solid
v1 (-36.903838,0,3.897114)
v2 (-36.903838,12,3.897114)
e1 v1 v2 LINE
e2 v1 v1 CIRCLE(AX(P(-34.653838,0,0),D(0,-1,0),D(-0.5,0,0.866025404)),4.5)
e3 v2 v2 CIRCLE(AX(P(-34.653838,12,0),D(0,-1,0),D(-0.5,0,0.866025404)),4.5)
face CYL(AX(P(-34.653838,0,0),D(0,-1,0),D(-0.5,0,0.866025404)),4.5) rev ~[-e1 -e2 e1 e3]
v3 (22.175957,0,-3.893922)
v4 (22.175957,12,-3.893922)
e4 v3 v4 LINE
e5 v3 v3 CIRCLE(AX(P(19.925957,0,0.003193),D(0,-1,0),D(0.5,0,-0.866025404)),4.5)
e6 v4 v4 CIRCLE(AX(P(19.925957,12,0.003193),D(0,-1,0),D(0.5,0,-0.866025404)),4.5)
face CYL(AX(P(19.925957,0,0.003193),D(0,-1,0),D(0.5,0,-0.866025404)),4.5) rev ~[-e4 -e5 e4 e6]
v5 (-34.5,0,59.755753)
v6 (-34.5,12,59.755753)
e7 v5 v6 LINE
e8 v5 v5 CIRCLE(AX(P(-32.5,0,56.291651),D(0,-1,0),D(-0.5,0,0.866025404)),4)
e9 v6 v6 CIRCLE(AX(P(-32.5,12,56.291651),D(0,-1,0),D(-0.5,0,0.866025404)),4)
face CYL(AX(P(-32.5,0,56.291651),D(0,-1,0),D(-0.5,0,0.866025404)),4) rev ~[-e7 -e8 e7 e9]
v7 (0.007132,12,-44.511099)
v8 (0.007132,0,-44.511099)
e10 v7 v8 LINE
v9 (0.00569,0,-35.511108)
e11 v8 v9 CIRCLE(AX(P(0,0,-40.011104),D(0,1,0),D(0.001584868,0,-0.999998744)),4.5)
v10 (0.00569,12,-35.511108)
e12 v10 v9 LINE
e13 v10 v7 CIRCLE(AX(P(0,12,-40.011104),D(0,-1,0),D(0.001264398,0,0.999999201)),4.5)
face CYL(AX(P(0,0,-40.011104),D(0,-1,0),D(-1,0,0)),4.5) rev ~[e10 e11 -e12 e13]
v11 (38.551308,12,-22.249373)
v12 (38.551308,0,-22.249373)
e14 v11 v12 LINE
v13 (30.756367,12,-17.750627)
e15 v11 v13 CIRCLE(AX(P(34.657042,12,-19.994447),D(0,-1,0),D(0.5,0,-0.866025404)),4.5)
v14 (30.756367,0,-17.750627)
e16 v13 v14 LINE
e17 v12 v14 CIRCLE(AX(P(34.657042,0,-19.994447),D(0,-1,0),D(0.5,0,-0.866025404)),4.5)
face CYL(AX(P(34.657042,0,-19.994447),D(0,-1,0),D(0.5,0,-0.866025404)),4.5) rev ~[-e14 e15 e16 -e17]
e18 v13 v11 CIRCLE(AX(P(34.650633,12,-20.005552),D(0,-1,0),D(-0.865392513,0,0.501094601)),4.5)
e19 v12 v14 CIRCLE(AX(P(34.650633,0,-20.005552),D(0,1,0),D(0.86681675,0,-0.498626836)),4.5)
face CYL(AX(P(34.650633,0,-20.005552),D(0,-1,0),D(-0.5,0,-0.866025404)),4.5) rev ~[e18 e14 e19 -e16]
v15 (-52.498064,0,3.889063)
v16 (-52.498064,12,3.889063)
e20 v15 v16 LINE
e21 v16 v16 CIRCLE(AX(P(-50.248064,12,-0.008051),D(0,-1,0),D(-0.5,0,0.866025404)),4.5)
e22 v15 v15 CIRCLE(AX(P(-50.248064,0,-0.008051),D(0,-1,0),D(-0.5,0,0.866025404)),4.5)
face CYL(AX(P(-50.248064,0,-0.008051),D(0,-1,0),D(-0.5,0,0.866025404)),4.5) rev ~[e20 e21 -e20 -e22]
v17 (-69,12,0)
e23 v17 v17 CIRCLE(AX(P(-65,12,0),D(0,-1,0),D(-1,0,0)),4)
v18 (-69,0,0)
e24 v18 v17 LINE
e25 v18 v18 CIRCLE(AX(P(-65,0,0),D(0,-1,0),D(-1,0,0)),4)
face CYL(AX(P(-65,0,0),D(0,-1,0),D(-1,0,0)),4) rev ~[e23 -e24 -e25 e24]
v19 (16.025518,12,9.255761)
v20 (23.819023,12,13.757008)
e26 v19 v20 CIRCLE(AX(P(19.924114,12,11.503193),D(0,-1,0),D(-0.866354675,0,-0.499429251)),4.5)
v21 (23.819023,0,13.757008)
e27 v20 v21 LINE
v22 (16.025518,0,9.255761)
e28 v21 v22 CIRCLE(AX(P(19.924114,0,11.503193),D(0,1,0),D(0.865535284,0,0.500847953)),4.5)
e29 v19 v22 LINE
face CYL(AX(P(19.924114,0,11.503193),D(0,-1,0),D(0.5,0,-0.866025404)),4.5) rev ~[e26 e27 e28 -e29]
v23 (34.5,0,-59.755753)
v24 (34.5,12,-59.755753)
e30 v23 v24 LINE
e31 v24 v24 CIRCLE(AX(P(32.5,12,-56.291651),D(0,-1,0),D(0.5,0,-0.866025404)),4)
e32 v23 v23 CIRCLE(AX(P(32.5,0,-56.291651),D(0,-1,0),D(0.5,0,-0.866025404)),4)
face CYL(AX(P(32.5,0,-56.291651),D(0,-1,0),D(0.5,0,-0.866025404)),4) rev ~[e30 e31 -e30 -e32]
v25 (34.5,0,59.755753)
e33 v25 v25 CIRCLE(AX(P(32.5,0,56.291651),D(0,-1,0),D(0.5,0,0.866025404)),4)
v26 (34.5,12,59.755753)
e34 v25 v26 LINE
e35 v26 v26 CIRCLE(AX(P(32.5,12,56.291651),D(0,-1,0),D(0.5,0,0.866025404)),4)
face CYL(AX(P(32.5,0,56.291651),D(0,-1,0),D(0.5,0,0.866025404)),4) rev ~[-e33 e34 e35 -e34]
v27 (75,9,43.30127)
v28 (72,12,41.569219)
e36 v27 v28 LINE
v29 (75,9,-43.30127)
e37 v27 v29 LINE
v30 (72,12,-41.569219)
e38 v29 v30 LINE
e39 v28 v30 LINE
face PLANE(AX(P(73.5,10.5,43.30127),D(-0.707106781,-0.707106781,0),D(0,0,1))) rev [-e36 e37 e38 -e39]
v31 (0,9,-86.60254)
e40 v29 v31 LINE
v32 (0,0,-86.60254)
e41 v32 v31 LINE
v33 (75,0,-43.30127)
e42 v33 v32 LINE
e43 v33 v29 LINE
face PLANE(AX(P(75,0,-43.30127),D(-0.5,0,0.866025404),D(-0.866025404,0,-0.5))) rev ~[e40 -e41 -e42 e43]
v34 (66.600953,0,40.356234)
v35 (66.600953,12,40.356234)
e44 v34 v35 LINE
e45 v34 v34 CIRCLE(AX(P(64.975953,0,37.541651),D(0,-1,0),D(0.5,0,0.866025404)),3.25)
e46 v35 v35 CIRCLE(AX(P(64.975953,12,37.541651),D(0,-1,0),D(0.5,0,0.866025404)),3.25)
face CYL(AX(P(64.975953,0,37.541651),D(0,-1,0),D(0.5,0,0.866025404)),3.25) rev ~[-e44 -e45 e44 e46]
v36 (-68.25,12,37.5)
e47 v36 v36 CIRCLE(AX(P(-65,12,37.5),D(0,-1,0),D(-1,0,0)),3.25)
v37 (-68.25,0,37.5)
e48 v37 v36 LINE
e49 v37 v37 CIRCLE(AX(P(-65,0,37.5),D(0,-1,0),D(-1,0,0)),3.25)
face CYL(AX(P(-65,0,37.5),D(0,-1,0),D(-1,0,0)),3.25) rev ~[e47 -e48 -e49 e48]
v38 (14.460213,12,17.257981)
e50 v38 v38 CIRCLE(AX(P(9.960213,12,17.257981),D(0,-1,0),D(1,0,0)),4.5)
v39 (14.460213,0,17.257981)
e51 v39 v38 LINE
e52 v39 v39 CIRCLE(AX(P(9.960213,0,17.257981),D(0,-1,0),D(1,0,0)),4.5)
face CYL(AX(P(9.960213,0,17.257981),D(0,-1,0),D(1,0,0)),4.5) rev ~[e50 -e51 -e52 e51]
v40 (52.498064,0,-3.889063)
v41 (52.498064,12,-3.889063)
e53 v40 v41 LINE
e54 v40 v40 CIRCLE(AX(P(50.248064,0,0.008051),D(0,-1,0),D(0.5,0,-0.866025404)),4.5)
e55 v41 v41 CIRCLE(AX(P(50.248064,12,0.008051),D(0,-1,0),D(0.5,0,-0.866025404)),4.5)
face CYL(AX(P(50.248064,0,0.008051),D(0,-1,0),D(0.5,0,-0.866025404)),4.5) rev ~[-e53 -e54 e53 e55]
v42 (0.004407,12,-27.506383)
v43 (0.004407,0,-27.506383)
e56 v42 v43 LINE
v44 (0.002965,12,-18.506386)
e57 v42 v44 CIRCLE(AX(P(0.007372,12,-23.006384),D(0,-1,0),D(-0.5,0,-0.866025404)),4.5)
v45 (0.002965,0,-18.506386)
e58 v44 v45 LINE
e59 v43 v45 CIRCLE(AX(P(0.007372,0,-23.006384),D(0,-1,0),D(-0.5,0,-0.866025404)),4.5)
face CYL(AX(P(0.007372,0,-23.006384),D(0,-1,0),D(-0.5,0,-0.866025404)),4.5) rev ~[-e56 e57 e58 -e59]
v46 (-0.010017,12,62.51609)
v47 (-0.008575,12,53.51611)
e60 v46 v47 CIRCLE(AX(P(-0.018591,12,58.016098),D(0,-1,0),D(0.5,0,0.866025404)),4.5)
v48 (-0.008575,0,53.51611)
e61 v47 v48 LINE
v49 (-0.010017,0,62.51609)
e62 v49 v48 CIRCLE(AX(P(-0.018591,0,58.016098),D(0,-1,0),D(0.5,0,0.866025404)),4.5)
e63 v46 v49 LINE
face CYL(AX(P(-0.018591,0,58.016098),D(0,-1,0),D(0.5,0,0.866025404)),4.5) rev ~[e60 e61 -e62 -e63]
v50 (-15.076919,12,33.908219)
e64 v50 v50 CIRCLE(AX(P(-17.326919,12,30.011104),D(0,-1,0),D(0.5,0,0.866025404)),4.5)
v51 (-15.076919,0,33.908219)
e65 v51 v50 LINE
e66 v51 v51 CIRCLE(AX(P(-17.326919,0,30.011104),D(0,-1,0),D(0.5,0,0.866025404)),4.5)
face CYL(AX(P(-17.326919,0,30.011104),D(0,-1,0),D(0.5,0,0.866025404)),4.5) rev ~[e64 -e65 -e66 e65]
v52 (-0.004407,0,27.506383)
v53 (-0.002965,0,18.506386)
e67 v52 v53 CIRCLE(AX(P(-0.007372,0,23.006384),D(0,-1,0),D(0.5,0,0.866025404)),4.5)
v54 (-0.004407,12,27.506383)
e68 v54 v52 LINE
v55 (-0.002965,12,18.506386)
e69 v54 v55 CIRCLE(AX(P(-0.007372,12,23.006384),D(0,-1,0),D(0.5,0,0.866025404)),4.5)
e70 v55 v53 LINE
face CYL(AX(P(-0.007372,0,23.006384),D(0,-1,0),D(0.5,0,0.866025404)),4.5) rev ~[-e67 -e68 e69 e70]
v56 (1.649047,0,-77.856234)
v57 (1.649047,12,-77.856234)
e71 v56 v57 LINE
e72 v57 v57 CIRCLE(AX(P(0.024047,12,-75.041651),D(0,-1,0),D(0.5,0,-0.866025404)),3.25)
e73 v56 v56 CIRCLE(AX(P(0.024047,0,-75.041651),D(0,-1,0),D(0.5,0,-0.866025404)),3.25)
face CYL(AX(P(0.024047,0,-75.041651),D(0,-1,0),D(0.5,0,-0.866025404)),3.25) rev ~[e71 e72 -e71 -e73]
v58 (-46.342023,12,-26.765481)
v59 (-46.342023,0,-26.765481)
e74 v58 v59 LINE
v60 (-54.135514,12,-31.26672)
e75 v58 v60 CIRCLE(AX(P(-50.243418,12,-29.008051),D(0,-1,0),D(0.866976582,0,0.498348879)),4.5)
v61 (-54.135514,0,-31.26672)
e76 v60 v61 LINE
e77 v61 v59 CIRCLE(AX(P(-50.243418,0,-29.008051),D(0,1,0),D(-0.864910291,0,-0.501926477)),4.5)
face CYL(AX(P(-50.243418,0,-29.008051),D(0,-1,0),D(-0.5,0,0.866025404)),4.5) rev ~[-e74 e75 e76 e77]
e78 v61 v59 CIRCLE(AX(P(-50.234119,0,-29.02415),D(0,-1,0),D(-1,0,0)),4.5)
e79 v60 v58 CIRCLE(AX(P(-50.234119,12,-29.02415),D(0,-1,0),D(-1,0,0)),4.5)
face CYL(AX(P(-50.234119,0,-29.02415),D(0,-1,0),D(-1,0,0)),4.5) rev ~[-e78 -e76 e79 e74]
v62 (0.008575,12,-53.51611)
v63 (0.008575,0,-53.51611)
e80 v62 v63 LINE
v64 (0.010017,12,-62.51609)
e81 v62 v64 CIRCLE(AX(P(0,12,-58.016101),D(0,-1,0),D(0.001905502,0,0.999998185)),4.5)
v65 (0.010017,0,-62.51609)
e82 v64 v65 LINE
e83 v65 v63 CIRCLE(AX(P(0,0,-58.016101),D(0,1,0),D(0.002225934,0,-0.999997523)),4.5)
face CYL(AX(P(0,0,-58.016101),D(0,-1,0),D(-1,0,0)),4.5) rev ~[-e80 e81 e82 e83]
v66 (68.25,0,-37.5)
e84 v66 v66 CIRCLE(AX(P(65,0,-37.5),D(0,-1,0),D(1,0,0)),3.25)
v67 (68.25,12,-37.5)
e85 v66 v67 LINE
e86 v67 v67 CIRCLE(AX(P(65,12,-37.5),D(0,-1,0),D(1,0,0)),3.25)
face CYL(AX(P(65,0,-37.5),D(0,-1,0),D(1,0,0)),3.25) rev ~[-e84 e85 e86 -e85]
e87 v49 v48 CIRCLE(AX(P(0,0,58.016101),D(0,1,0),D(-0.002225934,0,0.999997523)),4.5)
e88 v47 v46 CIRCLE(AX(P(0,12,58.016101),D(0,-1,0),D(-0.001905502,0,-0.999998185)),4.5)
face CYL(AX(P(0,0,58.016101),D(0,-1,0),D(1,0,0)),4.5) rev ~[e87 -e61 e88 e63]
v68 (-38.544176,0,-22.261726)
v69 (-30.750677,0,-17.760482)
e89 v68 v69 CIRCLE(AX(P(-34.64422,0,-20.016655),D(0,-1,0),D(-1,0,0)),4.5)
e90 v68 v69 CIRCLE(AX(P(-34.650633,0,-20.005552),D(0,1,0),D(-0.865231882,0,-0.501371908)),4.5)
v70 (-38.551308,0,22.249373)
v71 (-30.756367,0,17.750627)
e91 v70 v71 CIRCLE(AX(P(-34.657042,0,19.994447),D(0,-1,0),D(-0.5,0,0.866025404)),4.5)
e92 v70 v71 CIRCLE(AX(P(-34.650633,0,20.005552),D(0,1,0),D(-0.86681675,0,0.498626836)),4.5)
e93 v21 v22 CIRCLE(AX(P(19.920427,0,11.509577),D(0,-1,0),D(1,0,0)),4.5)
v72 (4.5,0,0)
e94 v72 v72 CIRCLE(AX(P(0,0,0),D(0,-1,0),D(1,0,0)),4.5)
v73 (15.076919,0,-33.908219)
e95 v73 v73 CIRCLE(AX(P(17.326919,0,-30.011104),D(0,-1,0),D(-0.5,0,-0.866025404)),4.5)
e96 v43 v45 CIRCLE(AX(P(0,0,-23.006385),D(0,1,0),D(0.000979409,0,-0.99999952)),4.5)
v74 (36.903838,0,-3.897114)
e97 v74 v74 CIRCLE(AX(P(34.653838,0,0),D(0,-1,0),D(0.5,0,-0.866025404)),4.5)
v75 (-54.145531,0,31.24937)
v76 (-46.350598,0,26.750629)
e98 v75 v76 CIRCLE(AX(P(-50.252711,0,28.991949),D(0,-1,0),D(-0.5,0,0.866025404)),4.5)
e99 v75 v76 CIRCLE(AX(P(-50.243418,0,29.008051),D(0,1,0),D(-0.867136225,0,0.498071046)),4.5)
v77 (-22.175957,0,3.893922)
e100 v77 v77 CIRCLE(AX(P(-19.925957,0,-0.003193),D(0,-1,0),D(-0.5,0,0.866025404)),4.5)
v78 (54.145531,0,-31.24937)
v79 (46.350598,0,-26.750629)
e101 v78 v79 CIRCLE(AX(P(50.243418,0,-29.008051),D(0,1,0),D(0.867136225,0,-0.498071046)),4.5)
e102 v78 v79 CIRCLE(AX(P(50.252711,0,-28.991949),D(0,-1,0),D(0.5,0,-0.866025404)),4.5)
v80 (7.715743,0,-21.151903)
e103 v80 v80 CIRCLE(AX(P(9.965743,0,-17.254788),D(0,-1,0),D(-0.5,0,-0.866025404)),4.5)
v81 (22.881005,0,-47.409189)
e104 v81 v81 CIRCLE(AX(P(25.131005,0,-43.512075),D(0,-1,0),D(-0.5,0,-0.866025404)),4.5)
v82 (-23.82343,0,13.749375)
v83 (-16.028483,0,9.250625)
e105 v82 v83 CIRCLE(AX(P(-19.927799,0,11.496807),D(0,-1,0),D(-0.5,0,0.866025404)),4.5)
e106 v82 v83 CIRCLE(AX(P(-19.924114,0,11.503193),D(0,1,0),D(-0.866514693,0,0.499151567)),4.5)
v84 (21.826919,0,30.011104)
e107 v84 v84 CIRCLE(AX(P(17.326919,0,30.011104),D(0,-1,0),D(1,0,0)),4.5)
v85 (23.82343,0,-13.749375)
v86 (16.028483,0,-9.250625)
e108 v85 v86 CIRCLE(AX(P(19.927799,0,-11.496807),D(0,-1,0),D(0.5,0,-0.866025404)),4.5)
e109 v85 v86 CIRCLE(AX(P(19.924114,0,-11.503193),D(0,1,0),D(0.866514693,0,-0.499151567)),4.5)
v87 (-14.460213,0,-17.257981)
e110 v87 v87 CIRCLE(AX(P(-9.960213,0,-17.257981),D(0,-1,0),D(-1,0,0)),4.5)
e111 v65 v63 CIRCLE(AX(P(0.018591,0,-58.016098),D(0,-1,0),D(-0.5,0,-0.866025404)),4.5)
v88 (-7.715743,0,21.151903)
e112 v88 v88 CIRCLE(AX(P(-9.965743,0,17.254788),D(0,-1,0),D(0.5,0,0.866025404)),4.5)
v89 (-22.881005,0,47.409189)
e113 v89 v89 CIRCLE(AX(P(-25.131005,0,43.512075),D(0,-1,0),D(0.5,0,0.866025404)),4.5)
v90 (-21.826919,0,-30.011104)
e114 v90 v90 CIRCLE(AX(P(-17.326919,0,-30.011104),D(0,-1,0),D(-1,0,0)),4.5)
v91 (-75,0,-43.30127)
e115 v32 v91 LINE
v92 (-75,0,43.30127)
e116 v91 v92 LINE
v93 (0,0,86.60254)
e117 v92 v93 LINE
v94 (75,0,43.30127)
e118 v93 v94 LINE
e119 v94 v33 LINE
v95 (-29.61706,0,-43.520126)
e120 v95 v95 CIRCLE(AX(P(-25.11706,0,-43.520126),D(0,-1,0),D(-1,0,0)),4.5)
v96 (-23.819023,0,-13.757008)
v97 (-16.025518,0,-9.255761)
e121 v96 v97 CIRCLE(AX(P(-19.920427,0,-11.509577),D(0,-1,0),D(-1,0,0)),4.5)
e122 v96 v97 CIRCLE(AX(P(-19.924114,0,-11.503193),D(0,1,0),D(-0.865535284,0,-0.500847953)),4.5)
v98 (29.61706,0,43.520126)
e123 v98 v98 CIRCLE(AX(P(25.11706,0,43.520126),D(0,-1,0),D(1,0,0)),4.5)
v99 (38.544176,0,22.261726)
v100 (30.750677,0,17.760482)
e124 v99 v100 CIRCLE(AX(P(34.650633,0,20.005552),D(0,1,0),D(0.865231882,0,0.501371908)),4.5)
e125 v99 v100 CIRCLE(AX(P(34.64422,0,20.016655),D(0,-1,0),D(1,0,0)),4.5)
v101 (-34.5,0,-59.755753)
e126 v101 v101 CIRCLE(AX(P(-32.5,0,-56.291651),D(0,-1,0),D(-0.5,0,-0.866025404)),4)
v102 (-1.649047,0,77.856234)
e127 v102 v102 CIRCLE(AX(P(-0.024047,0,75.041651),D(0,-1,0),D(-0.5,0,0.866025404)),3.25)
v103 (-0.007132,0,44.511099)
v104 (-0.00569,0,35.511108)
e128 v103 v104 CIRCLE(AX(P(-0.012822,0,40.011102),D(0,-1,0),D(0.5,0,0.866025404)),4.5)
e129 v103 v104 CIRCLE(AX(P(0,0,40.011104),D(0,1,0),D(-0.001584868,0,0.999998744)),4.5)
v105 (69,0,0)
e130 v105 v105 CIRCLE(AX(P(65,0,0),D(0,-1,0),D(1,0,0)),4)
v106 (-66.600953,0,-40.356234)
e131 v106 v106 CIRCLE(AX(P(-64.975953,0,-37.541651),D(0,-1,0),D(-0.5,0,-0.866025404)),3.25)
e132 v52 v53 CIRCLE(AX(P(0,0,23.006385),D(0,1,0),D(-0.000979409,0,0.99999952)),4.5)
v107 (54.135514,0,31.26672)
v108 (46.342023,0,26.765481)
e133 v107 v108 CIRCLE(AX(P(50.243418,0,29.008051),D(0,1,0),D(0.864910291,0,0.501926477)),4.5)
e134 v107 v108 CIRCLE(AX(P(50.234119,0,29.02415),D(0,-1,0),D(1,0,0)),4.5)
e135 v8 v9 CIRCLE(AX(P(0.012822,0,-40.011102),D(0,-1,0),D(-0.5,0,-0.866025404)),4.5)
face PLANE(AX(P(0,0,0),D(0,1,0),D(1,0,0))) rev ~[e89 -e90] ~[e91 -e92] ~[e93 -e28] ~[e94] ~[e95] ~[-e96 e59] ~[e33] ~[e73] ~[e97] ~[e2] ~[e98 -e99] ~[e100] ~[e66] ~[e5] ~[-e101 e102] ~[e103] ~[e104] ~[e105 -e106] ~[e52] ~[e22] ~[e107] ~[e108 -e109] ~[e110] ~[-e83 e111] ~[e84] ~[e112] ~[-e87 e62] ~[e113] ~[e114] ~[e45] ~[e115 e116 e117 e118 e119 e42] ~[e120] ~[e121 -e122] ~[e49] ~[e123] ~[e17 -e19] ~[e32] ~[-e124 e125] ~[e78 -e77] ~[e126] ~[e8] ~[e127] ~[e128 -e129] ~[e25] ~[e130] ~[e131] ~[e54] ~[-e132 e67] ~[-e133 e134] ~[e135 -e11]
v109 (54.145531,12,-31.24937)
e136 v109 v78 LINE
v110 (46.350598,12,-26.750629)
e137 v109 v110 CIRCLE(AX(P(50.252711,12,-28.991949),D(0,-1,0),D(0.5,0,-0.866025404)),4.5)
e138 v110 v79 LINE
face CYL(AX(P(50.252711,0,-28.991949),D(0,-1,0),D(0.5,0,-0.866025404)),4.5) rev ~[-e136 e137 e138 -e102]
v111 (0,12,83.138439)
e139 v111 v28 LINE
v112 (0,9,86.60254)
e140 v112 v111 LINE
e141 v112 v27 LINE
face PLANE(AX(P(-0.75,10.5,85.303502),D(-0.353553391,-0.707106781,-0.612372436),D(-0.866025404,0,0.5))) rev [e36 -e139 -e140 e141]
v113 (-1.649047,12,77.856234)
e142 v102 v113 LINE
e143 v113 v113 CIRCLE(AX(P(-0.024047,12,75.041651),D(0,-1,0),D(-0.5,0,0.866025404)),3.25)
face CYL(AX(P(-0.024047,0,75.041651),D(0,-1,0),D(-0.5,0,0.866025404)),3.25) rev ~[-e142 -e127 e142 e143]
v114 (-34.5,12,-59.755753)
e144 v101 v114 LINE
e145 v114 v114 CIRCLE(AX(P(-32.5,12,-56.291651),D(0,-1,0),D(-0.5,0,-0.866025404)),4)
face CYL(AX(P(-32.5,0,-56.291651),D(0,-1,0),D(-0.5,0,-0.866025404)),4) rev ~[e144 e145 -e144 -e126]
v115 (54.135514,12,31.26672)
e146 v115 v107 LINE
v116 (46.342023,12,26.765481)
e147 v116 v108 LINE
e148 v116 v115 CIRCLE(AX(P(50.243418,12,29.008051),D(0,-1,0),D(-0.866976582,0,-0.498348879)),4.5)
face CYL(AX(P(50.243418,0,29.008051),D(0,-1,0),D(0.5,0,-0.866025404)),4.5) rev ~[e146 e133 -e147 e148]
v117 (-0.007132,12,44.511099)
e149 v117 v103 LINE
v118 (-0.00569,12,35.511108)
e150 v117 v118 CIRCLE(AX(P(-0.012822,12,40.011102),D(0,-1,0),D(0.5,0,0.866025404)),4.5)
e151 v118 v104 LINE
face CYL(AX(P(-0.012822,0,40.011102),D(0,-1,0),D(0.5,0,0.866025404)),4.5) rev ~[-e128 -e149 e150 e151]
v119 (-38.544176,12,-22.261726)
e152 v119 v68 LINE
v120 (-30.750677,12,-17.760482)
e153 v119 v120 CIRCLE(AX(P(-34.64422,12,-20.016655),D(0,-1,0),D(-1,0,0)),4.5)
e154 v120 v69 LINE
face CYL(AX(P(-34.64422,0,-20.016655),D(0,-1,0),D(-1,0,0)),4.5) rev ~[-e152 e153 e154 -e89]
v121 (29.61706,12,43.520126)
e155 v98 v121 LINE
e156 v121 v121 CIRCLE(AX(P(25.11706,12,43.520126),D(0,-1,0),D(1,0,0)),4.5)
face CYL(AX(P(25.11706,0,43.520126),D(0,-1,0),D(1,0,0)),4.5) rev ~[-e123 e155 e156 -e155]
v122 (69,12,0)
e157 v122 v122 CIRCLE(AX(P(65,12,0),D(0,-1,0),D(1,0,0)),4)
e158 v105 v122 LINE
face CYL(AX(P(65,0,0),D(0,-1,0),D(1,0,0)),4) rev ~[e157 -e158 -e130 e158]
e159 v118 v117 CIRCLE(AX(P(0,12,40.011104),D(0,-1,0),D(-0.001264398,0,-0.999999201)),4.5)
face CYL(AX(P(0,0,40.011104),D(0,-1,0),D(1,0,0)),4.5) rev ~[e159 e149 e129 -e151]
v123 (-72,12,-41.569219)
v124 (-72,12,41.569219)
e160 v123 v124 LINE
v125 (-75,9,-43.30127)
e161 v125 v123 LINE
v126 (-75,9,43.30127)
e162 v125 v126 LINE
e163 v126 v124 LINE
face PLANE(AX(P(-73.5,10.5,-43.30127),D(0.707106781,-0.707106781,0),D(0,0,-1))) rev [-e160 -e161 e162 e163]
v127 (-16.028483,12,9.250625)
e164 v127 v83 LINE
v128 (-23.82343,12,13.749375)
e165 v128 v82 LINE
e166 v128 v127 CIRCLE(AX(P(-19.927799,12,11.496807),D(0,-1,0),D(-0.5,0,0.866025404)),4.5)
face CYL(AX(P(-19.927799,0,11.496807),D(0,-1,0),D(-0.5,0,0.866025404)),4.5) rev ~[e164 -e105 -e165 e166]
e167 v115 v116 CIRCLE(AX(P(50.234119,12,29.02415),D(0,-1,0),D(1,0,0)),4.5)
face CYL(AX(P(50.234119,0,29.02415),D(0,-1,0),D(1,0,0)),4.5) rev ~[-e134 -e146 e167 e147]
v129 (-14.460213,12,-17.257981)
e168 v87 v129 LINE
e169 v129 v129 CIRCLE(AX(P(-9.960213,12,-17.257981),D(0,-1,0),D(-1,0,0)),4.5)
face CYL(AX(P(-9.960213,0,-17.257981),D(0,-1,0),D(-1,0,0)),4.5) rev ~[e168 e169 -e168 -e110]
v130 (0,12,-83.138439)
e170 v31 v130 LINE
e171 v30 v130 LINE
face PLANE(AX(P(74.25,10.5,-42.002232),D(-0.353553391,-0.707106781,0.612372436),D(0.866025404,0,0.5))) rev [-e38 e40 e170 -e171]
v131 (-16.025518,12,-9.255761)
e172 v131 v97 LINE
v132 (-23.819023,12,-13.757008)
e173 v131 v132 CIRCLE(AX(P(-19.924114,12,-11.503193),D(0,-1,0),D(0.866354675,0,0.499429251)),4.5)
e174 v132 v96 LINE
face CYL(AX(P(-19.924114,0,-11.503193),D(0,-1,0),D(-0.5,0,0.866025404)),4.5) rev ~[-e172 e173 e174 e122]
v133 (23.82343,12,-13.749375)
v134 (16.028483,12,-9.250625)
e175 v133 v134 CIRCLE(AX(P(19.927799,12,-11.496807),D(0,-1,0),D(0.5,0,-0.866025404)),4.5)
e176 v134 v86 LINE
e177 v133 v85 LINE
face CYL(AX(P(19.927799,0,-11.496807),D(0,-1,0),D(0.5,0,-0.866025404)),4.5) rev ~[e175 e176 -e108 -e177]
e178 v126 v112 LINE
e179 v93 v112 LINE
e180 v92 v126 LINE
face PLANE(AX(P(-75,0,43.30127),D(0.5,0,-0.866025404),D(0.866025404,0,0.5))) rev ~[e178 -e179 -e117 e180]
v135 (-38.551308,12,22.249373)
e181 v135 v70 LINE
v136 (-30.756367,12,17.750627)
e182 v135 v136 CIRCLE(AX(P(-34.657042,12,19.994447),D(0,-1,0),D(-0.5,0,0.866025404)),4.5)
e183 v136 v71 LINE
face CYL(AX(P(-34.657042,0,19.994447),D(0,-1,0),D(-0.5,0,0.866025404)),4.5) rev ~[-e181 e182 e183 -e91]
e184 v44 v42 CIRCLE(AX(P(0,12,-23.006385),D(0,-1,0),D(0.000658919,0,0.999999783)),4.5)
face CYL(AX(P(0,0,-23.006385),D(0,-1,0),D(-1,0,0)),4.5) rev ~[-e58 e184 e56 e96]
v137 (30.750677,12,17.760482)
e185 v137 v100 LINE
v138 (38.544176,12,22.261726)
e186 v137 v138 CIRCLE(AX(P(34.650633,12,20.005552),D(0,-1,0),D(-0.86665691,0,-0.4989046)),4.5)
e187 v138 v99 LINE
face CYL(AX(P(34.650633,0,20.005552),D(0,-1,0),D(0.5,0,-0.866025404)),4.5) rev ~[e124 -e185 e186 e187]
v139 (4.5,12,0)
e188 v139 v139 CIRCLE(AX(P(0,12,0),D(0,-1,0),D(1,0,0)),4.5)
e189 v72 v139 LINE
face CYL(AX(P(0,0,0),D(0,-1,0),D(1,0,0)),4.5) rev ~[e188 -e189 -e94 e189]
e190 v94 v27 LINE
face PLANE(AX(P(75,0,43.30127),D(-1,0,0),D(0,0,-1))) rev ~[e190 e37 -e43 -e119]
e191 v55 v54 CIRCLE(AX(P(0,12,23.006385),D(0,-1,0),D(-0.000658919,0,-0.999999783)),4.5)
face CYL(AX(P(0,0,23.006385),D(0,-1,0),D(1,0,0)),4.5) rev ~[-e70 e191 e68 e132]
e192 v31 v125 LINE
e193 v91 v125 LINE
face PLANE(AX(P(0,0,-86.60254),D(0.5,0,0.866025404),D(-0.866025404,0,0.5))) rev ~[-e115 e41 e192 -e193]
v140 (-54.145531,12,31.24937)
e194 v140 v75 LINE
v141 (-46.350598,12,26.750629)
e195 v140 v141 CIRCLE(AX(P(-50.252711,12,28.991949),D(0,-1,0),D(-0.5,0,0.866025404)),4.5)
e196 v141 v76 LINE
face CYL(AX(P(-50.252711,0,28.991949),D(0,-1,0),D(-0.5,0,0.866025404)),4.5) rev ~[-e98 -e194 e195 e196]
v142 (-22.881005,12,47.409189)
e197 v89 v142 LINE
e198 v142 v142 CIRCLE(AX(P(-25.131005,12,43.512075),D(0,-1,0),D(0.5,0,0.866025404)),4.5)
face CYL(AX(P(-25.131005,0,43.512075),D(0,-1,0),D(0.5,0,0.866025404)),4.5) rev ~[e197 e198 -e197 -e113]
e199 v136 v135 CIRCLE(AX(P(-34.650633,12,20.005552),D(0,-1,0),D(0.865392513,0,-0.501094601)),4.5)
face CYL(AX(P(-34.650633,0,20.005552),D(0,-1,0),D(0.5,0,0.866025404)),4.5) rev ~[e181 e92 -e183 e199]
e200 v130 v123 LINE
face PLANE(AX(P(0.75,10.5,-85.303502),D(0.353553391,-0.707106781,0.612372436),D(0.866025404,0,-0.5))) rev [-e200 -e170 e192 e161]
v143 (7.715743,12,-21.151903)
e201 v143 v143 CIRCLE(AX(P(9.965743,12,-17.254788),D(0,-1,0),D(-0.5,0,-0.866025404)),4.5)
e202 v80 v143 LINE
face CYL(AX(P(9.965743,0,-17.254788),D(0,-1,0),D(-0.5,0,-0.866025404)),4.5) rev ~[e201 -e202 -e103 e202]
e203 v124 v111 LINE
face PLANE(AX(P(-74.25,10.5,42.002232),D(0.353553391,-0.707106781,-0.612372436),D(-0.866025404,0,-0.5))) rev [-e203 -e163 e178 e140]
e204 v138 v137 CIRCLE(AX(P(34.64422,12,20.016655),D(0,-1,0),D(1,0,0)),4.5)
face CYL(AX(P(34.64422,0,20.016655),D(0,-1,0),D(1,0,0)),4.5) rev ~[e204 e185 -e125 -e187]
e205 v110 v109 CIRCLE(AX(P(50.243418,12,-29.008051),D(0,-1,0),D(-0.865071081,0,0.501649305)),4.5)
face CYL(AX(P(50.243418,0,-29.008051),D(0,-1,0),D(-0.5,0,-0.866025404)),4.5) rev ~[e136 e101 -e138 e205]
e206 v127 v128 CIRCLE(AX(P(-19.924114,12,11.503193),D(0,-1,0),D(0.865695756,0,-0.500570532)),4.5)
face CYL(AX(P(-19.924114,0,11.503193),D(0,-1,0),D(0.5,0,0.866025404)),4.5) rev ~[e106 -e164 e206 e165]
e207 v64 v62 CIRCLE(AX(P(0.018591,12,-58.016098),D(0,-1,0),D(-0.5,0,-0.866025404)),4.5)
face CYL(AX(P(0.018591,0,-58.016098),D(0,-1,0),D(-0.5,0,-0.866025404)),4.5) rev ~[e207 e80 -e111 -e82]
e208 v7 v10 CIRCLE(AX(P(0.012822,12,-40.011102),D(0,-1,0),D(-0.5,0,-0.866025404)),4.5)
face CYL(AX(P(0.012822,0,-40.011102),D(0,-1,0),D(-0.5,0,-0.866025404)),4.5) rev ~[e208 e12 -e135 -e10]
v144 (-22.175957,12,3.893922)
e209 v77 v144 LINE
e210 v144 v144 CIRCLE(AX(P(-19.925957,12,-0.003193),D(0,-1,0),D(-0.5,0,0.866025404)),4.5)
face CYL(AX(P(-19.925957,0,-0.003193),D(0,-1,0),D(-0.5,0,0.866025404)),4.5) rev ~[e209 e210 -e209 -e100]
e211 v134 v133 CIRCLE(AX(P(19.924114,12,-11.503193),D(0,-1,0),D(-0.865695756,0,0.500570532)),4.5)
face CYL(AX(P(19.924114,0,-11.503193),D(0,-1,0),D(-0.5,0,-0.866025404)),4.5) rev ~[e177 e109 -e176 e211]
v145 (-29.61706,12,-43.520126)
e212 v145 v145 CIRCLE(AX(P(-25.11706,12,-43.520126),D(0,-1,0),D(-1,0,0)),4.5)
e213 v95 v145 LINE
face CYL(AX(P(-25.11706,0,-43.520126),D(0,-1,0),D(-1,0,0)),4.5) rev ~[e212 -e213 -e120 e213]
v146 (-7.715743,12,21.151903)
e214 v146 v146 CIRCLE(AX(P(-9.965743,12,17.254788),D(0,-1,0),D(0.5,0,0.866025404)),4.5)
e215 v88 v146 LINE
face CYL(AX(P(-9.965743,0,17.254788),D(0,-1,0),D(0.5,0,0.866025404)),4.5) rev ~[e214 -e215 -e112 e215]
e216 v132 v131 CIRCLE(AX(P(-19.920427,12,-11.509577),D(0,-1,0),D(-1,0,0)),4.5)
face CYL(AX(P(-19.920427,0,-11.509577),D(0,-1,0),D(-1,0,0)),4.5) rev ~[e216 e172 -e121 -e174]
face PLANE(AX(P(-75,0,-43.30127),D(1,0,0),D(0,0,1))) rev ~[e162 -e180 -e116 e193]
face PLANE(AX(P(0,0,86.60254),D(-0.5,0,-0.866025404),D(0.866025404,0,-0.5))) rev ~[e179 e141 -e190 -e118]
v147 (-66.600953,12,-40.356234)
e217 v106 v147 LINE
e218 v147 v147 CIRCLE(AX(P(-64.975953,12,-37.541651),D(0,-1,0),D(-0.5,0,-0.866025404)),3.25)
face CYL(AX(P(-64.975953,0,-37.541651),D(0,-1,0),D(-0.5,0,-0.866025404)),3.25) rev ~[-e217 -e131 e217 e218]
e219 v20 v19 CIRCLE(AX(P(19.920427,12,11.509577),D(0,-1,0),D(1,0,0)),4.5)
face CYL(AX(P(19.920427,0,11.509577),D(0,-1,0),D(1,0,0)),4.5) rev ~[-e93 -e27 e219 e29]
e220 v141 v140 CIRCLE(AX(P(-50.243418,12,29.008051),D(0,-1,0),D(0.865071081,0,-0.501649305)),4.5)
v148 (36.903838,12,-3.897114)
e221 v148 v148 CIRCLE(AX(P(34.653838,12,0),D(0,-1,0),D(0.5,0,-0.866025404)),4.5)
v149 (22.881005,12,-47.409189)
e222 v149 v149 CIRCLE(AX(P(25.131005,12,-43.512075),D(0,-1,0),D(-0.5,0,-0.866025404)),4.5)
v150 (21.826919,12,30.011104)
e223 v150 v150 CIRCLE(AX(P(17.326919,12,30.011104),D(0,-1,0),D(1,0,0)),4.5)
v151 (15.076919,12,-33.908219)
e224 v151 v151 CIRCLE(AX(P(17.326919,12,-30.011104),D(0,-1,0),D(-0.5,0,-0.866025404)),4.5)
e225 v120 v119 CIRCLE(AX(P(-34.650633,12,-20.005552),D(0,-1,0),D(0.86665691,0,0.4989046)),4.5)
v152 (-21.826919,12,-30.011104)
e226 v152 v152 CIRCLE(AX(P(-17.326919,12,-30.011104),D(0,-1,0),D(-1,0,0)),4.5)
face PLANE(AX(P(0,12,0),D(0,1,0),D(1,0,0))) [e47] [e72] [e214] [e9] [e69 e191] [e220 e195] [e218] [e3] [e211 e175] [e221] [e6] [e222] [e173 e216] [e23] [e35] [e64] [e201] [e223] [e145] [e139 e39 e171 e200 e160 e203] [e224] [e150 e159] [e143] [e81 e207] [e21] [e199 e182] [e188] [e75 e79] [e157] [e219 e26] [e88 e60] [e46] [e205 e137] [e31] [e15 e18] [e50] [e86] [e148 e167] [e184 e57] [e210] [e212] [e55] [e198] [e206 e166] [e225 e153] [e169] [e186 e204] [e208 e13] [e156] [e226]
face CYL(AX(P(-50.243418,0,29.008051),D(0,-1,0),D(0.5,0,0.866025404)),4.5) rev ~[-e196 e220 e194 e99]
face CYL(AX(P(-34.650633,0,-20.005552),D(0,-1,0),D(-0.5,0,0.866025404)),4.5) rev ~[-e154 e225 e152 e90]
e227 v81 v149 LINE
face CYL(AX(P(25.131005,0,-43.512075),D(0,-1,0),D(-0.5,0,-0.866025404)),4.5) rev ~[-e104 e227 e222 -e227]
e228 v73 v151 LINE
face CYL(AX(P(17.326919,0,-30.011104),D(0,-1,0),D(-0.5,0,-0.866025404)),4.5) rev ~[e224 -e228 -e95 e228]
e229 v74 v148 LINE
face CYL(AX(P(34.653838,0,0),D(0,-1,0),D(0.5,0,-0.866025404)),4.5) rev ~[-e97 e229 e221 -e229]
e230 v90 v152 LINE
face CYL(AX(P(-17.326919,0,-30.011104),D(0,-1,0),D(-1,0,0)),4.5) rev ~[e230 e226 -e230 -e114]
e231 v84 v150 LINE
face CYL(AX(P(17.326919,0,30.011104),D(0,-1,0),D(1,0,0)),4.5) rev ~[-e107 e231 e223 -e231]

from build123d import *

# Parameters (mm, degrees)
EXTRUDE_1_DEPTH          = 12
CHAMFER_1_SIZE           = 3
SKETCH_2_R               = 3.25
CUT_EXTRUDE_1_DEPTH      = 13
PATTERN_CIRCULAR_1_COUNT = 6
SKETCH_4_R               = 4
CUT_EXTRUDE_2_DEPTH      = 13
PATTERN_CIRCULAR_2_COUNT = 6
SKETCH_5_R               = 4.5
CUT_EXTRUDE_3_DEPTH      = 13
SKETCH_9_R               = 4.5
CUT_EXTRUDE_5_DEPTH      = 13
PATTERN_CIRCULAR_3_COUNT = 6


with BuildPart() as part:
    # 草圖1 → 填料-伸長1 (new body)
    with BuildSketch(Plane(origin=(0, 0, 0), x_dir=(1, 0, 0), z_dir=(0, 1, 0))):
        Polygon((75, 43.301270189), (0, 86.602540378), (-75, 43.301270189), (-75, -43.301270189), (0, -86.602540378), (75, -43.301270189), align=None)
    extrude(amount=EXTRUDE_1_DEPTH)

    # 導角1
    chamfer_1_edges = [part.edges().sort_by_distance(p)[0] for p in [
        (-37.5, 12, -64.951905284),
        (-75, 12, 0),
        (-37.5, 12, 64.951905284),
        (37.5, 12, 64.951905284),
        (75, 12, 0),
        (37.5, 12, -64.951905284),
    ]]
    chamfer(chamfer_1_edges, length=CHAMFER_1_SIZE)

    # 草圖2 → 除料-伸長1 (cut, through all)
    with BuildSketch(Plane.XZ):
        with Locations((65, -37.5)):
            Circle(SKETCH_2_R)
    cut_extrude_1 = extrude(amount=-CUT_EXTRUDE_1_DEPTH, mode=Mode.SUBTRACT)

    # 環狀複製排列1: 除料-伸長1 ×6 about axis
    pattern_circular_1_axis = Axis((0, 0, 0), (0, 1, 0))
    for i in range(1, PATTERN_CIRCULAR_1_COUNT):
        add(cut_extrude_1.rotate(pattern_circular_1_axis, i * 360 / PATTERN_CIRCULAR_1_COUNT), mode=Mode.SUBTRACT)

    # 草圖4 → 除料-伸長2 (cut, through all)
    with BuildSketch(Plane.XZ):
        with Locations((65, 0)):
            Circle(SKETCH_4_R)
    cut_extrude_2 = extrude(amount=-CUT_EXTRUDE_2_DEPTH, mode=Mode.SUBTRACT)

    # 環狀複製排列2: 除料-伸長2 ×6 about axis
    pattern_circular_2_axis = Axis((0, 0, 0), (0, 1, 0))
    for i in range(1, PATTERN_CIRCULAR_2_COUNT):
        add(cut_extrude_2.rotate(pattern_circular_2_axis, i * 360 / PATTERN_CIRCULAR_2_COUNT), mode=Mode.SUBTRACT)

    # 草圖5 → 除料-伸長3 (cut, through all)
    with BuildSketch(Plane.XZ):
        Circle(SKETCH_5_R)
    extrude(amount=-CUT_EXTRUDE_3_DEPTH, mode=Mode.SUBTRACT)

    # 草圖9 → 除料-伸長5 (cut, through all)
    with BuildSketch(Plane.XZ):
        with Locations((0, 23.006385047)):
            Circle(SKETCH_9_R)
        with Locations((9.960213319, 17.257980865)):
            Circle(SKETCH_9_R)
        with Locations((19.920426639, 11.509576684)):
            Circle(SKETCH_9_R)
        with Locations((34.644220241, 20.016655103)):
            Circle(SKETCH_9_R)
        with Locations((50.23411935, 29.024149899)):
            Circle(SKETCH_9_R)
        with Locations((25.117059675, 43.52012566)):
            Circle(SKETCH_9_R)
        with Locations((17.326919147, 30.011104301)):
            Circle(SKETCH_9_R)
        with Locations((0, 40.011104429)):
            Circle(SKETCH_9_R)
        with Locations((0, 58.016101422)):
            Circle(SKETCH_9_R)
    cut_extrude_5 = extrude(amount=-CUT_EXTRUDE_5_DEPTH, mode=Mode.SUBTRACT)

    # 環狀複製排列3: 除料-伸長5 ×6 about axis
    pattern_circular_3_axis = Axis((0, 0, 0), (0, 1, 0))
    for i in range(1, PATTERN_CIRCULAR_3_COUNT):
        add(cut_extrude_5.rotate(pattern_circular_3_axis, i * 360 / PATTERN_CIRCULAR_3_COUNT), mode=Mode.SUBTRACT)


solid = part.part
